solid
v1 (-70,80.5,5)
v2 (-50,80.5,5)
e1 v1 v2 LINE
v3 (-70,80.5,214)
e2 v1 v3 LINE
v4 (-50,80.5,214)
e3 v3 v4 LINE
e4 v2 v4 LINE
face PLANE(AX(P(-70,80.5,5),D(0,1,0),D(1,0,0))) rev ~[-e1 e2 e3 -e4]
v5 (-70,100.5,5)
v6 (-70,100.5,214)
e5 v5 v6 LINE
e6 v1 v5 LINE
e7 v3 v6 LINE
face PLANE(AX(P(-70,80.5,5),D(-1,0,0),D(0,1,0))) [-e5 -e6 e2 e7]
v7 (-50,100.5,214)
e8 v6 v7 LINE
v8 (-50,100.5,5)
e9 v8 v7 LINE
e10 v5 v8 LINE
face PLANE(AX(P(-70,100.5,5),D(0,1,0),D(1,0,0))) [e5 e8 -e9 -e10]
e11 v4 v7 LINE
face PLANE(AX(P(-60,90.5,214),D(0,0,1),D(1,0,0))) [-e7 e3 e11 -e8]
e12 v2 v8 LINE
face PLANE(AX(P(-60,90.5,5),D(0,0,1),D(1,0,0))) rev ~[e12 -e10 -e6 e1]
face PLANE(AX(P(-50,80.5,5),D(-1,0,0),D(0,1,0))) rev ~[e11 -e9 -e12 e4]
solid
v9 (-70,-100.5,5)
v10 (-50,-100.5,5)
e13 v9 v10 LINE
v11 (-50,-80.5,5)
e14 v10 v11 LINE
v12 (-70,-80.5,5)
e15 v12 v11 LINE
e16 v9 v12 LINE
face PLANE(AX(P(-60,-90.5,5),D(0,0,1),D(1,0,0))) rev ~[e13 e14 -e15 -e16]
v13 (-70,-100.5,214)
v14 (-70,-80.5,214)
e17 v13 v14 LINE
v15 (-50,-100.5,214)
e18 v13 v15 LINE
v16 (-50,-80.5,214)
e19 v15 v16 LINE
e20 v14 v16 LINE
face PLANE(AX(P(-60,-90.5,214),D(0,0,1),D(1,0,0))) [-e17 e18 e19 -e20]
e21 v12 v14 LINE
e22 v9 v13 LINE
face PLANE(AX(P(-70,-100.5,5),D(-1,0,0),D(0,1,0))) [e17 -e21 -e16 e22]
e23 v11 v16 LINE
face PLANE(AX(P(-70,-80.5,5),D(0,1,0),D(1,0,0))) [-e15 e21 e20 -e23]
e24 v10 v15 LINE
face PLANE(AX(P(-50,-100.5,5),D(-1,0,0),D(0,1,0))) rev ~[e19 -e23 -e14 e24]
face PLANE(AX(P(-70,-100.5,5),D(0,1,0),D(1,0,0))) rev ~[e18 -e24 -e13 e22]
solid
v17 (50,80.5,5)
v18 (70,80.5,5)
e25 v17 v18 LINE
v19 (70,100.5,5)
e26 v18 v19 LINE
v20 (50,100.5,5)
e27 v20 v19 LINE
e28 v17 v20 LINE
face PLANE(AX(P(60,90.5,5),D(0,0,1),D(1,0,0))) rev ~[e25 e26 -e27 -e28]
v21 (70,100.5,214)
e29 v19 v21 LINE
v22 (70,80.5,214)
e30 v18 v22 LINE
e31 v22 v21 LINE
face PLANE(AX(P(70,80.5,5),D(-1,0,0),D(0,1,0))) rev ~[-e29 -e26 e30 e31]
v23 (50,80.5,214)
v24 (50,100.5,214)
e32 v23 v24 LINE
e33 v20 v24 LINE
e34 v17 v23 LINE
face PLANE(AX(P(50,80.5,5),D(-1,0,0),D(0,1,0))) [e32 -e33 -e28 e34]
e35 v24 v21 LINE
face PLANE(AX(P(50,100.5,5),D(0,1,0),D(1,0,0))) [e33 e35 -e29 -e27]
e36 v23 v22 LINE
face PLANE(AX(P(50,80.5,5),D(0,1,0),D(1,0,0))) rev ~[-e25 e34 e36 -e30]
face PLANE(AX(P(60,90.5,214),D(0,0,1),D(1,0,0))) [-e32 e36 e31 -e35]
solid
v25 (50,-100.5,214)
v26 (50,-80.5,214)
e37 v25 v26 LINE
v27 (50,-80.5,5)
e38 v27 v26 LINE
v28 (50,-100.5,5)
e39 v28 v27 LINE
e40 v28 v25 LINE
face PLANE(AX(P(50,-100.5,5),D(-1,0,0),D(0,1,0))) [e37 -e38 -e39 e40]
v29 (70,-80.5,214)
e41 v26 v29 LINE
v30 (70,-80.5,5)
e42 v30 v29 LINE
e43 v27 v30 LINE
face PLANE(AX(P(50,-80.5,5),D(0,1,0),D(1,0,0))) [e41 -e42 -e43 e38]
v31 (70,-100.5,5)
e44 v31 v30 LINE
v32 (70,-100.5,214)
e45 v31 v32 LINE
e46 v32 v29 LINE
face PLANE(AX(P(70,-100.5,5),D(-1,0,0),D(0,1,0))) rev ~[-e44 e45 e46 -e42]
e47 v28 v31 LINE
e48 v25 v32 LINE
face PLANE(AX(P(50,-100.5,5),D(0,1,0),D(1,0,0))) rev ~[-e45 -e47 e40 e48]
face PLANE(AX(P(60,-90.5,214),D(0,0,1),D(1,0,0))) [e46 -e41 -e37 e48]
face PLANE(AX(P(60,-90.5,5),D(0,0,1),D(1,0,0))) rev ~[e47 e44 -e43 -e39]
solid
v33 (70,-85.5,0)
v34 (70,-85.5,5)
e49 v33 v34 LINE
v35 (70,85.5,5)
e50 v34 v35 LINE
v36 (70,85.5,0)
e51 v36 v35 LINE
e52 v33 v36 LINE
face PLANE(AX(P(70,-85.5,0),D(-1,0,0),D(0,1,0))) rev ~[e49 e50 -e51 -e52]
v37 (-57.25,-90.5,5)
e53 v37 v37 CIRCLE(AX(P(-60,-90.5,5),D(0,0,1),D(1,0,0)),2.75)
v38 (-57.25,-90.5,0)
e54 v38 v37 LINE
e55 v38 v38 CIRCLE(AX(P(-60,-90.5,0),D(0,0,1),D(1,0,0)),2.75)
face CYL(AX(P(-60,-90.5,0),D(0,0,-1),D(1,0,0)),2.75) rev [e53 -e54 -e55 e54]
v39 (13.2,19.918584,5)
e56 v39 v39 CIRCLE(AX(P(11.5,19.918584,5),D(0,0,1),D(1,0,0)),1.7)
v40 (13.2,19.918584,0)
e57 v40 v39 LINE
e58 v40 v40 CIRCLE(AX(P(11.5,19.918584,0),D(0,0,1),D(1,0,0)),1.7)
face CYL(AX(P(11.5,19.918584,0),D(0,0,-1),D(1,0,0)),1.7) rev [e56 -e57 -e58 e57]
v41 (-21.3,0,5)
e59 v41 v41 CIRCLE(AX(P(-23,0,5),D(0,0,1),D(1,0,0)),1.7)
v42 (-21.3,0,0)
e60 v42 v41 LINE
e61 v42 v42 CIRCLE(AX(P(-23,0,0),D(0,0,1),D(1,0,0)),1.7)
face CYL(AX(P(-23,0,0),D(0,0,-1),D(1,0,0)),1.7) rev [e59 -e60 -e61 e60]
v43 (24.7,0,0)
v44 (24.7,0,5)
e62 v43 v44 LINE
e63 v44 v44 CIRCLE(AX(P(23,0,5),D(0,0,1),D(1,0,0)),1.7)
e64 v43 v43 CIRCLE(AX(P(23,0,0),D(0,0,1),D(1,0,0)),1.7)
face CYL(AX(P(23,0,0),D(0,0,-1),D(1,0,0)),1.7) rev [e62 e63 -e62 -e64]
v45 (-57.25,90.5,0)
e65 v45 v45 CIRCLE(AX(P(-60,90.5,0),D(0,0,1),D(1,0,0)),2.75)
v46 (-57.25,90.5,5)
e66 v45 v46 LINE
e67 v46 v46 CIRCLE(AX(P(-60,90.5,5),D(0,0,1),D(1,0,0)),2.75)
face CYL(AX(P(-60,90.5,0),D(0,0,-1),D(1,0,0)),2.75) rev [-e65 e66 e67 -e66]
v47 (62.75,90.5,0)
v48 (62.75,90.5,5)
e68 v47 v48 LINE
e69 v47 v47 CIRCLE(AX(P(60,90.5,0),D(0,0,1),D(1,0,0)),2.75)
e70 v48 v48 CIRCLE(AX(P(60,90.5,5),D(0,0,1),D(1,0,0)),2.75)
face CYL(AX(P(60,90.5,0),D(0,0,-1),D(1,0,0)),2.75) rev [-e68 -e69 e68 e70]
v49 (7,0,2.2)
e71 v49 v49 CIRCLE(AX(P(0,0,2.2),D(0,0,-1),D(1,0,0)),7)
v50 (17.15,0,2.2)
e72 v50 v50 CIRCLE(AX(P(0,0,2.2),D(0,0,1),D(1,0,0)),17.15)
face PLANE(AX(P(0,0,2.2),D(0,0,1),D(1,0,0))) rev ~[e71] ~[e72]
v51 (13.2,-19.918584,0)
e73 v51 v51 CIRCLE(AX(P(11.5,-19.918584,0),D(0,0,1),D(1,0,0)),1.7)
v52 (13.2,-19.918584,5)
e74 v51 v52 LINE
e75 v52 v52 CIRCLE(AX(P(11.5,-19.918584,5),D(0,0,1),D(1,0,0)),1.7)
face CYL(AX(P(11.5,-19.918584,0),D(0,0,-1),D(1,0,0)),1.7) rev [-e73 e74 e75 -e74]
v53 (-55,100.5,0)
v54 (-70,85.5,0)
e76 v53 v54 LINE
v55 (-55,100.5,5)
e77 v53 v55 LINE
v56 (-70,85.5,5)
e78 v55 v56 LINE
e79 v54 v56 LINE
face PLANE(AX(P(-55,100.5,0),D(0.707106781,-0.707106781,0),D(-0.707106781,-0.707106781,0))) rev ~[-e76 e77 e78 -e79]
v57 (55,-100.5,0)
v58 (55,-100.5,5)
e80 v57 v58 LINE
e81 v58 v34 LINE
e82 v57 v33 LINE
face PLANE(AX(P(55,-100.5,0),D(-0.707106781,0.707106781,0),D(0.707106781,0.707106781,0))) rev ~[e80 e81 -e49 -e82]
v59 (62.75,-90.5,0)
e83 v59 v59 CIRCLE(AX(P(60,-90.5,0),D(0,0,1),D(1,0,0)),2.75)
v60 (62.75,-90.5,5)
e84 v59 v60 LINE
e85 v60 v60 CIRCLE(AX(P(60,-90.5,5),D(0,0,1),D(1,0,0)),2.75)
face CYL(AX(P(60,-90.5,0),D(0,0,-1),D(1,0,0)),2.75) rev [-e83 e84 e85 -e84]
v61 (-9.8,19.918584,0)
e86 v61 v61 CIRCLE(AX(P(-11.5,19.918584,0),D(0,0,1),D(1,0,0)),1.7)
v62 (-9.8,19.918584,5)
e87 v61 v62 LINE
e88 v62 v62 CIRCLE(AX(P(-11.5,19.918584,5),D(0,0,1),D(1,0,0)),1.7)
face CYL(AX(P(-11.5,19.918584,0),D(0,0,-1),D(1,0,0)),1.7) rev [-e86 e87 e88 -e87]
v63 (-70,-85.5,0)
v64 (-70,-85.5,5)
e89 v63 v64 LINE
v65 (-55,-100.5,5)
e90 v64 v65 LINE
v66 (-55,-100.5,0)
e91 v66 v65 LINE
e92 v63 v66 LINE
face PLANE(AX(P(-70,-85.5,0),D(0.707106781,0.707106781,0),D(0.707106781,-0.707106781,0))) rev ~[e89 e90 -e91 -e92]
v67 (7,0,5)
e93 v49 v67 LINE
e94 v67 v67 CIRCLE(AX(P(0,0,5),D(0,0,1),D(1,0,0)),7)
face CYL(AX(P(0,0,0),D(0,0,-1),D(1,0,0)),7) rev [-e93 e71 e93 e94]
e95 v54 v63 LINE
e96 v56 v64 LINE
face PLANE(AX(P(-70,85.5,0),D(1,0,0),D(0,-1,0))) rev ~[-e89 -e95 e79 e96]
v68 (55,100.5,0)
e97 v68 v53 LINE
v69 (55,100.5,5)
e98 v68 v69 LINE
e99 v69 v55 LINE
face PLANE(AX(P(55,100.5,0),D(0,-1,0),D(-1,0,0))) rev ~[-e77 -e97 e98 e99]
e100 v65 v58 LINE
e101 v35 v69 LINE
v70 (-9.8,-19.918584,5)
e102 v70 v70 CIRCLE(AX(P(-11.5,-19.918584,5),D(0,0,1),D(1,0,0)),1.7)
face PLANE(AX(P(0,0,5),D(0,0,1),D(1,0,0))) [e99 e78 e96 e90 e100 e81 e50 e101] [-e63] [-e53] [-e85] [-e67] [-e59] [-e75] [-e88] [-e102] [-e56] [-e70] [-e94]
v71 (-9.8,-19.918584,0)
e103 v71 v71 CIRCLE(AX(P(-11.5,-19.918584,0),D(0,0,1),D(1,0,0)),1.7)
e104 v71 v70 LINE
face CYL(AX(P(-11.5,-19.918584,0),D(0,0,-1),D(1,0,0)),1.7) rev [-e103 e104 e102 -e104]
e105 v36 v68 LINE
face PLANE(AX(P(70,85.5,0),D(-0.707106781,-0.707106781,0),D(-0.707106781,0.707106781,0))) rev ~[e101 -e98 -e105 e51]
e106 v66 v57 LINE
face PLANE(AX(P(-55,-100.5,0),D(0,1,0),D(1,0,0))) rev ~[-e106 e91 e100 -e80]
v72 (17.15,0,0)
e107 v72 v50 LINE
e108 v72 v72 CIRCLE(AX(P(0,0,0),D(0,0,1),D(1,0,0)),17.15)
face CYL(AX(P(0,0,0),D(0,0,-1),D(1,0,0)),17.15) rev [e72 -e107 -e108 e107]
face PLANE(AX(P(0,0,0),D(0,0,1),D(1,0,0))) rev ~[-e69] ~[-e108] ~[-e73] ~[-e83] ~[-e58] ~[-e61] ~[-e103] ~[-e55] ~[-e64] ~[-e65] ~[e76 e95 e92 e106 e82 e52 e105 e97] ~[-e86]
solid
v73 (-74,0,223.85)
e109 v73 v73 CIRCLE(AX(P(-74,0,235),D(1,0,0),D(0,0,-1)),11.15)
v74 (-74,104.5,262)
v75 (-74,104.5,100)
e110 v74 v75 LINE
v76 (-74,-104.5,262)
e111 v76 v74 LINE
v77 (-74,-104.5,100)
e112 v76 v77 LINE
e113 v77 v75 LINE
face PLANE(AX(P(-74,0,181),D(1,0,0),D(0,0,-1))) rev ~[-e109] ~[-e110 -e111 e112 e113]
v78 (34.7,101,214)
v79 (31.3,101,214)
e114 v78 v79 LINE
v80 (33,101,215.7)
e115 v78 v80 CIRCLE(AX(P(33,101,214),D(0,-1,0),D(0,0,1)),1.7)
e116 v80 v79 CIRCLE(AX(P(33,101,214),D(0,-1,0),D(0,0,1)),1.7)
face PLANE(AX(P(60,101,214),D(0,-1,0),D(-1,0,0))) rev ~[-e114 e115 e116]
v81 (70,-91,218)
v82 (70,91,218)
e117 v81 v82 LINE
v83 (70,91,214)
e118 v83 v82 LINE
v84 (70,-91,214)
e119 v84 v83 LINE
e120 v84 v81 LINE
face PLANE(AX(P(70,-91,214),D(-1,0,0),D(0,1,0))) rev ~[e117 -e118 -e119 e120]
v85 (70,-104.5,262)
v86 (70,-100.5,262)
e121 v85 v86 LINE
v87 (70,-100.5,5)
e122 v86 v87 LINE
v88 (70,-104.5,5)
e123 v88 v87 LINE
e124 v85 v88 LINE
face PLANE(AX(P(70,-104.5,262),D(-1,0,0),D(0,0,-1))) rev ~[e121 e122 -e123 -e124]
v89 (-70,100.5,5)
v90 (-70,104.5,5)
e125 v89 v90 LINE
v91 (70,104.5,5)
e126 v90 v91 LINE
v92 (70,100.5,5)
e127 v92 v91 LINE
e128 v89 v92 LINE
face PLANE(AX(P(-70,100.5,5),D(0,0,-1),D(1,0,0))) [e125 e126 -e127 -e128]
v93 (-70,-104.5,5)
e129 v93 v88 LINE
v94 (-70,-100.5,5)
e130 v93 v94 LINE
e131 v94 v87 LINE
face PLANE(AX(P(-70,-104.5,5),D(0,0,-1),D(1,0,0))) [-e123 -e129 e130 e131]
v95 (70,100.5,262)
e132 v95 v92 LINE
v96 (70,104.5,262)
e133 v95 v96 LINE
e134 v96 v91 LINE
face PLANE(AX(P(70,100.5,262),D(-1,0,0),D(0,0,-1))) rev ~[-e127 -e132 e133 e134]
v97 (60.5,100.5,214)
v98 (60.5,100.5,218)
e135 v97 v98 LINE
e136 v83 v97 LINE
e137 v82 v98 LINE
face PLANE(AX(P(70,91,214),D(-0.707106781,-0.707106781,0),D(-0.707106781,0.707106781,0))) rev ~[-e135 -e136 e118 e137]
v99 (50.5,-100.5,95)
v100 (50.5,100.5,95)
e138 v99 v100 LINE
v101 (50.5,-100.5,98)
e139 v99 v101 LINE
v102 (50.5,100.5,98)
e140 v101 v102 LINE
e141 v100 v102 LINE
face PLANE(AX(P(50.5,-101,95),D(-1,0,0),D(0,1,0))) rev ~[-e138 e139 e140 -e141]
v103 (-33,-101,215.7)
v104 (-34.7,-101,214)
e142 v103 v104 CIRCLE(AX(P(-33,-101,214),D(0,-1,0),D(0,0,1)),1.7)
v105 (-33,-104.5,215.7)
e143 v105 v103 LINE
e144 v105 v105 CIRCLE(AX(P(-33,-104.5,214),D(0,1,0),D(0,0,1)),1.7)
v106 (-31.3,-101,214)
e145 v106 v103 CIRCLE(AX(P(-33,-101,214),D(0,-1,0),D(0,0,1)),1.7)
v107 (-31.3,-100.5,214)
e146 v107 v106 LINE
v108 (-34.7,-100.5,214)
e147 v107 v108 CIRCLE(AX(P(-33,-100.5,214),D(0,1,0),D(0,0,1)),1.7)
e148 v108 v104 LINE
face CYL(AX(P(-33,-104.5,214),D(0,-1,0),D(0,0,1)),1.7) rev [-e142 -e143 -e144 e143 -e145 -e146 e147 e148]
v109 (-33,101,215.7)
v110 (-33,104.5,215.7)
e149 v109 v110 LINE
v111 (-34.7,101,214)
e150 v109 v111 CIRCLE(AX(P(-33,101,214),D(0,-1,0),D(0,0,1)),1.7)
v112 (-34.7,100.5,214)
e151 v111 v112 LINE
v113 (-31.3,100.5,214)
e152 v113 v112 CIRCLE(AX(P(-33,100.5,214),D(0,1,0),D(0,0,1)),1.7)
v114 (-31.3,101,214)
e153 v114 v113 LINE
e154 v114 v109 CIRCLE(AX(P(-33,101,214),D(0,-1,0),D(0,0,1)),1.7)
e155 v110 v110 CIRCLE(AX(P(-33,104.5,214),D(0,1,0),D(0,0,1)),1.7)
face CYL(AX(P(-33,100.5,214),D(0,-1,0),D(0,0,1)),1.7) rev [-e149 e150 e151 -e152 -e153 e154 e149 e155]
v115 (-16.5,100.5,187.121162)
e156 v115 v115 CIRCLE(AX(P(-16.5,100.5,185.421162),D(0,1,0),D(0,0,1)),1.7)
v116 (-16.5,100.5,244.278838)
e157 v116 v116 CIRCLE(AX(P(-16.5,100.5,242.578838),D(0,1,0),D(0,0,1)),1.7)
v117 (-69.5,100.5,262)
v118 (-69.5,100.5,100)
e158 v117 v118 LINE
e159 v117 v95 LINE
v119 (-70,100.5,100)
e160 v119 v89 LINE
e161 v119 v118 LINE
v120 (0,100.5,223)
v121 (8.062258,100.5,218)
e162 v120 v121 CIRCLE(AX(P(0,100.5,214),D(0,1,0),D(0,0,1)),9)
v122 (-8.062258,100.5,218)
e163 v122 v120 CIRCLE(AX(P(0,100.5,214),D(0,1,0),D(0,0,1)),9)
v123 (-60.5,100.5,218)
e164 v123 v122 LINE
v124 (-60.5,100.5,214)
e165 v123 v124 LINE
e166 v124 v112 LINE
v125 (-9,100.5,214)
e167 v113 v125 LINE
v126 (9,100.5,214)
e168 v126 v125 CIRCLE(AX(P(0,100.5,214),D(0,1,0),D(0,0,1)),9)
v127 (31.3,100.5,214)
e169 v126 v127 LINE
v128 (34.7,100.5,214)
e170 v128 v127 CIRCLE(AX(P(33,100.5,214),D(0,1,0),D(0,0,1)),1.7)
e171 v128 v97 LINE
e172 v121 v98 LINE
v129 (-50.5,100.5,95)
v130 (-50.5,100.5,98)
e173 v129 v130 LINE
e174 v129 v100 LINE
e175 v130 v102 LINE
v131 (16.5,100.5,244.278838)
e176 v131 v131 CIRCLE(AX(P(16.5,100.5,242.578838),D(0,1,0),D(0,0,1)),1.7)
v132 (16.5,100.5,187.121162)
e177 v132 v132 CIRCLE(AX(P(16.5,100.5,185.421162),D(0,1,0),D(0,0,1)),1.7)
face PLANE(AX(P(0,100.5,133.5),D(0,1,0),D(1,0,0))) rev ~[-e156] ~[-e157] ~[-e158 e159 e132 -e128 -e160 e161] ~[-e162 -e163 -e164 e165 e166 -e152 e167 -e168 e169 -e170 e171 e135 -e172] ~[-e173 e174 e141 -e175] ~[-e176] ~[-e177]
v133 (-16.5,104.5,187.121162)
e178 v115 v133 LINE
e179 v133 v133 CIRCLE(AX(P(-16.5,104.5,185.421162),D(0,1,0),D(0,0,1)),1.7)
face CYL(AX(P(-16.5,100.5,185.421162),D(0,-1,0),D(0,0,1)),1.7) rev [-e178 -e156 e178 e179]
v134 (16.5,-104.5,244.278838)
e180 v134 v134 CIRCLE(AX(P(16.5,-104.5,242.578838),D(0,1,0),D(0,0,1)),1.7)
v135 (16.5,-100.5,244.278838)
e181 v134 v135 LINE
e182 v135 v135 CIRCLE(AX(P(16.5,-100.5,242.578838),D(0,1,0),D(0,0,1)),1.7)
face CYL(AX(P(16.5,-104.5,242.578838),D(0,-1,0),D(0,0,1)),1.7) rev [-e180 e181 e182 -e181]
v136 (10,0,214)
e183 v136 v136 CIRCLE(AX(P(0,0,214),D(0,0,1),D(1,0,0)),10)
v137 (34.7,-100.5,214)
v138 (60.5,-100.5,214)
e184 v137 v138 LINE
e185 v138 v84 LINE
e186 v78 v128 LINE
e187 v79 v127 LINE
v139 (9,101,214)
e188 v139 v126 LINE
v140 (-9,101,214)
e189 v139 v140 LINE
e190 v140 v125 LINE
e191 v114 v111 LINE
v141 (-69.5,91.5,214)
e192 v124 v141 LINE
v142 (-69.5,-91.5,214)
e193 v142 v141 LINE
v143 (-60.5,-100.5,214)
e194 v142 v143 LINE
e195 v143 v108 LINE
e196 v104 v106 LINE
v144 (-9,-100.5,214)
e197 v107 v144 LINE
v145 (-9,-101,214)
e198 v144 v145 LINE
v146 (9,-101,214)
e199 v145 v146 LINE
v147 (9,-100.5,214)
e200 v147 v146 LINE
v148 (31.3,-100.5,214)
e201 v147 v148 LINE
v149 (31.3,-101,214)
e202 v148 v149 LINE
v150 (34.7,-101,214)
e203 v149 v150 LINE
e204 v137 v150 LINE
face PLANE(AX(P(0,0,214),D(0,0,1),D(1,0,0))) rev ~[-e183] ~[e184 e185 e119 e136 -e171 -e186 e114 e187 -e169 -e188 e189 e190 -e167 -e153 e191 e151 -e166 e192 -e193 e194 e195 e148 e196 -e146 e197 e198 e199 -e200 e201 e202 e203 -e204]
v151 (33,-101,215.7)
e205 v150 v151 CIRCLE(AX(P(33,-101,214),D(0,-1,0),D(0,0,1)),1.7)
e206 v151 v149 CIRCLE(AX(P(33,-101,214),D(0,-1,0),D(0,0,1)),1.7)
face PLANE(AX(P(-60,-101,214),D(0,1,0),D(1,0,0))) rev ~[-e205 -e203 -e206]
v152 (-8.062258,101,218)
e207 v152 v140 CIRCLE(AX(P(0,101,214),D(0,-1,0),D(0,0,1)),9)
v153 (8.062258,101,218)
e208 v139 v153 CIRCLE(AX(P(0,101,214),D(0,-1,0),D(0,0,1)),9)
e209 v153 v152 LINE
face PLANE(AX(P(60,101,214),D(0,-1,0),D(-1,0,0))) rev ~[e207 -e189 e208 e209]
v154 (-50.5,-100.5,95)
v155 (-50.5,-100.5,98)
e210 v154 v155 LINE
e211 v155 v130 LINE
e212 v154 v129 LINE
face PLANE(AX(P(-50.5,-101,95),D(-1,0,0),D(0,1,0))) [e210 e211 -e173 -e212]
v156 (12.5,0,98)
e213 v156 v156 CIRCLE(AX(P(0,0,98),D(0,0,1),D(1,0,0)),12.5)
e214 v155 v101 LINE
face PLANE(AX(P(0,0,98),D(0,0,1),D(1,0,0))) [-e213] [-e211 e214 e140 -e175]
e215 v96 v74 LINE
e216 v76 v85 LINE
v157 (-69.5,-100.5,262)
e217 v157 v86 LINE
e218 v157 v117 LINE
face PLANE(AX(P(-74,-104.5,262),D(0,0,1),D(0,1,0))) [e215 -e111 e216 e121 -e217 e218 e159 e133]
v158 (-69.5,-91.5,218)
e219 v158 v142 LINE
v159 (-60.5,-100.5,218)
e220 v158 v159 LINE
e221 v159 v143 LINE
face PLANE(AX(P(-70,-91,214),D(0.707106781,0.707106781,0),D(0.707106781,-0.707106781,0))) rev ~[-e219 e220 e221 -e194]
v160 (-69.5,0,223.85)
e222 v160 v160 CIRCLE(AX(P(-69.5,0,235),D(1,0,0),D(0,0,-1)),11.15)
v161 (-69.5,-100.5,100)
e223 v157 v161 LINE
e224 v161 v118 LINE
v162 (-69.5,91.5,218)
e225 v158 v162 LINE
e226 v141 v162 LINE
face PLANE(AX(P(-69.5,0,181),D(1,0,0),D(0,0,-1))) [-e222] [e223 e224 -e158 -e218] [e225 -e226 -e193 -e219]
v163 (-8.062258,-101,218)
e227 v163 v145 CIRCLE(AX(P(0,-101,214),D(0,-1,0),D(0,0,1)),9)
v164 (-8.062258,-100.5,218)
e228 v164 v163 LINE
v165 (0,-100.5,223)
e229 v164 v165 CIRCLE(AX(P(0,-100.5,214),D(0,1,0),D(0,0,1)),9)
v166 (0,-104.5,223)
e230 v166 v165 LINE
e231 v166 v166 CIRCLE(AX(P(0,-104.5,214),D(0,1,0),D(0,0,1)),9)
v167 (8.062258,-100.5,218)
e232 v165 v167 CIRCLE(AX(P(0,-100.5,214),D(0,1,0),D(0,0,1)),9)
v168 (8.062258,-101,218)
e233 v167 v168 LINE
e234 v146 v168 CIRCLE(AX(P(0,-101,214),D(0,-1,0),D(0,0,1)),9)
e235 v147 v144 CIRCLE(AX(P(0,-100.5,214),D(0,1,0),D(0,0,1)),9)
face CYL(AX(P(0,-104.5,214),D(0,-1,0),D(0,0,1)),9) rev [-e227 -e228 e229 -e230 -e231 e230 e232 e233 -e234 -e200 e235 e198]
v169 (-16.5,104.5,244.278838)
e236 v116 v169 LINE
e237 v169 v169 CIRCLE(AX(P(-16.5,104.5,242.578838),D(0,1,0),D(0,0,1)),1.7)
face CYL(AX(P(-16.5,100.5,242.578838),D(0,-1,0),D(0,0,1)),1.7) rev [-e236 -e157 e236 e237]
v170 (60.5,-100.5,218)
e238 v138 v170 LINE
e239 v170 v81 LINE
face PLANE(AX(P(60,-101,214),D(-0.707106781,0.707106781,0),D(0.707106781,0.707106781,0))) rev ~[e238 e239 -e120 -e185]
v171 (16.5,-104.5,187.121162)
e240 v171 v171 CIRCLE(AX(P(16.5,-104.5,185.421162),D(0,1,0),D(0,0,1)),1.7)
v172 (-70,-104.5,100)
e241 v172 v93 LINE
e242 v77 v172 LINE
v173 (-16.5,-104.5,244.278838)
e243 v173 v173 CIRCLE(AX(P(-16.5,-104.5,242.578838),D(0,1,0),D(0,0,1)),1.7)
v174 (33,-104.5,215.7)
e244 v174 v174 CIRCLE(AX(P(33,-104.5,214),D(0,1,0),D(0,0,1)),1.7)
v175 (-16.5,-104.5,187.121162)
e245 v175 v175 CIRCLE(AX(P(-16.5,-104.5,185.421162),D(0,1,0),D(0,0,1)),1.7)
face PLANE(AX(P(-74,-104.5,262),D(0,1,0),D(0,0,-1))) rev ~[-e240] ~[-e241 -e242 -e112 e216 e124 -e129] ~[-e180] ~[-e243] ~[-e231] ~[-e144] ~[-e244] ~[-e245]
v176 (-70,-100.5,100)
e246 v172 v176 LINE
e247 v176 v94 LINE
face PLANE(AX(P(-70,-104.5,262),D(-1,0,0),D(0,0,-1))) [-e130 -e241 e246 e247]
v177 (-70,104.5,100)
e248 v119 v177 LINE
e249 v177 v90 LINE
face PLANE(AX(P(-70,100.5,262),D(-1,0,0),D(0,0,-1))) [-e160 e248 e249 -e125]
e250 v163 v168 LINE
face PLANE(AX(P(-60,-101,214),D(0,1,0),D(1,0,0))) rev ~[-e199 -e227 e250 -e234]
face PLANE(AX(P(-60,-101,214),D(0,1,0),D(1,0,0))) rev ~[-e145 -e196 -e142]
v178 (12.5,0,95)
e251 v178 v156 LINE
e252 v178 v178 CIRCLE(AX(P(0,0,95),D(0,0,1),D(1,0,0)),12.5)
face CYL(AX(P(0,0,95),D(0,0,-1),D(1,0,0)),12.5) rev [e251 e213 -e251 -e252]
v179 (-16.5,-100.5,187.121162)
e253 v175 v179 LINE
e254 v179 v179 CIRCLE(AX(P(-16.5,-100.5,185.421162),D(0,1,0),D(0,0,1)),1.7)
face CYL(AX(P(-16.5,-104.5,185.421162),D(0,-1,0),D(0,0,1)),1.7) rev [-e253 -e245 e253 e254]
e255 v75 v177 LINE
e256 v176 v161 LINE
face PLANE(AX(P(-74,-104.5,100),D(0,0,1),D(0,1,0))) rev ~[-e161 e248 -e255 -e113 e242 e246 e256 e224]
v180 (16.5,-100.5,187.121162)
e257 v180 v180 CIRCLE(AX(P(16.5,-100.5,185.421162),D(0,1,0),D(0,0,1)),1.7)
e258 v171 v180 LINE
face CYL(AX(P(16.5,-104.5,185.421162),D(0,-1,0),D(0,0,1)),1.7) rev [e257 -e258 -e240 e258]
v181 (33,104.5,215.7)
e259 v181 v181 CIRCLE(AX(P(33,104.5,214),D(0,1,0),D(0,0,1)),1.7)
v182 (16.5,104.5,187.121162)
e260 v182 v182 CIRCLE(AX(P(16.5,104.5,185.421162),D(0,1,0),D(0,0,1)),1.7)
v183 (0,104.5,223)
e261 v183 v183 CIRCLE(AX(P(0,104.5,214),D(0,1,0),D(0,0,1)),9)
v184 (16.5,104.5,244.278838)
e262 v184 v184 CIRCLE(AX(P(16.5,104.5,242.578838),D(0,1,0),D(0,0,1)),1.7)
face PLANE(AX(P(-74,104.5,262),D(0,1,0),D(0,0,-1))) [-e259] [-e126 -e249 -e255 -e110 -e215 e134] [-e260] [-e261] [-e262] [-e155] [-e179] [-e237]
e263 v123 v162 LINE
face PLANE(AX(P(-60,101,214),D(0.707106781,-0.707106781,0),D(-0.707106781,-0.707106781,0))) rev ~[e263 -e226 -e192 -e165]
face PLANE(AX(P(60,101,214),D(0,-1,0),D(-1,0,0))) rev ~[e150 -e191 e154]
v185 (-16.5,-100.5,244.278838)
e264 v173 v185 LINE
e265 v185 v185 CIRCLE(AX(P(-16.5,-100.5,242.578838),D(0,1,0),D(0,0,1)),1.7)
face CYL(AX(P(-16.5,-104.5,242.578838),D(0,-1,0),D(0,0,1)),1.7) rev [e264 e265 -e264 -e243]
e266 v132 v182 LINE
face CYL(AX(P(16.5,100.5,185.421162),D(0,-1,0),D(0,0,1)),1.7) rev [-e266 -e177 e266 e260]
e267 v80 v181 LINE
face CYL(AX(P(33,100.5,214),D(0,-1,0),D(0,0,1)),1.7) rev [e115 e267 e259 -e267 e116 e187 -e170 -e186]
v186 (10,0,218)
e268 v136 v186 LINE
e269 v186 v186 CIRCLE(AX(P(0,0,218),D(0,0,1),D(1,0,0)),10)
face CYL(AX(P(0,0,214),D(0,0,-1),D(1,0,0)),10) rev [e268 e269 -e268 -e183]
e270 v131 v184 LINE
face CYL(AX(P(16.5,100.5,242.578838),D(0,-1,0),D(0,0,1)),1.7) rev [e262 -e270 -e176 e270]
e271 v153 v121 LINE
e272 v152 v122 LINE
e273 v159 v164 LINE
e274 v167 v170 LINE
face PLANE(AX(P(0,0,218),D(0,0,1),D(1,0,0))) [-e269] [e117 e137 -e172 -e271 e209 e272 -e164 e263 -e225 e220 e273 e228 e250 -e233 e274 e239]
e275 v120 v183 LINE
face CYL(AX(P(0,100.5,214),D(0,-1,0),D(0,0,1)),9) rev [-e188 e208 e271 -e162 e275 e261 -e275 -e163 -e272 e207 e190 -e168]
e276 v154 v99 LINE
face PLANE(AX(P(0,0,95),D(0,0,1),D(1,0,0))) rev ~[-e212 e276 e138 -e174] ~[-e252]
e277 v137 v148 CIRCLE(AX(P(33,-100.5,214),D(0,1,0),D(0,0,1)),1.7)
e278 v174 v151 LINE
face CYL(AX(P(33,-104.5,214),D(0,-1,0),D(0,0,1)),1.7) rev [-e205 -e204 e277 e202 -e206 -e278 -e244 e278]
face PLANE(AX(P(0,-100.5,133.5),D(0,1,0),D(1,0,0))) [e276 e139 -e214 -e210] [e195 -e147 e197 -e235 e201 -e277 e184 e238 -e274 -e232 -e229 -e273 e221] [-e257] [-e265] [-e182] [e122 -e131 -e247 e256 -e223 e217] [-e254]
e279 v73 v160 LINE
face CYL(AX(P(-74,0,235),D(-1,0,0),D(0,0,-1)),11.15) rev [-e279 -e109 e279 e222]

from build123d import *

# Parameters (mm, degrees)
SK_BOTTOM_PLATE_R        = 1.7
SK_BOTTOM_PLATE_R_2      = 7
SK_BOTTOM_PLATE_R_3      = 2.75
BOTTOM_PLATE_DEPTH       = 5
SK_WAIST_PILOT_RECESS_R  = 17.15
WAIST_PILOT_RECESS_DEPTH = 2.2
SK_SIDE_LEFT_W           = 140
SK_SIDE_LEFT_H           = 257
SK_SIDE_LEFT_R           = 1.7
SK_SIDE_LEFT_R_2         = 9
SIDE_LEFT_DEPTH          = 4
SK_SIDE_RIGHT_W          = 140
SK_SIDE_RIGHT_H          = 257
SK_SIDE_RIGHT_R          = 1.7
SK_SIDE_RIGHT_R_2        = 9
SIDE_RIGHT_DEPTH         = 4
SK_DECK_R                = 10
DECK_DEPTH               = 4
SK_TRAY_W                = 101
SK_TRAY_H                = 202
SK_TRAY_R                = 12.5
TRAY_DEPTH               = 3
SK_BACK_PLATE_W          = 162
SK_BACK_PLATE_H          = 209
SK_BACK_PLATE_R          = 11.15
BACK_PLATE_DEPTH         = 4.5
SK_POST_0_W              = 20
SK_POST_0_H              = 20
POST_0_DEPTH             = 209
SK_POST_1_W              = 20
SK_POST_1_H              = 20
POST_1_DEPTH             = 209
SK_POST_2_W              = 20
SK_POST_2_H              = 20
POST_2_DEPTH             = 209
SK_POST_3_W              = 20
SK_POST_3_H              = 20
POST_3_DEPTH             = 209


with BuildPart() as part:
    # SK_Bottom_Plate → Bottom_Plate (new body)
    with BuildSketch(Plane.XY):
        Polygon((-55, -100.5), (55, -100.5), (70, -85.5), (70, 85.5), (55, 100.5), (-55, 100.5), (-70, 85.5), (-70, -85.5), align=None)
        with Locations((23, 0)):
            Circle(SK_BOTTOM_PLATE_R, mode=Mode.SUBTRACT)
        with Locations((11.5, 19.918584287)):
            Circle(SK_BOTTOM_PLATE_R, mode=Mode.SUBTRACT)
        with Locations((-11.5, 19.918584287)):
            Circle(SK_BOTTOM_PLATE_R, mode=Mode.SUBTRACT)
        with Locations((-23, 0)):
            Circle(SK_BOTTOM_PLATE_R, mode=Mode.SUBTRACT)
        with Locations((-11.5, -19.918584287)):
            Circle(SK_BOTTOM_PLATE_R, mode=Mode.SUBTRACT)
        with Locations((11.5, -19.918584287)):
            Circle(SK_BOTTOM_PLATE_R, mode=Mode.SUBTRACT)
        Circle(SK_BOTTOM_PLATE_R_2, mode=Mode.SUBTRACT)
        with Locations((60, 90.5)):
            Circle(SK_BOTTOM_PLATE_R_3, mode=Mode.SUBTRACT)
        with Locations((60, -90.5)):
            Circle(SK_BOTTOM_PLATE_R_3, mode=Mode.SUBTRACT)
        with Locations((-60, 90.5)):
            Circle(SK_BOTTOM_PLATE_R_3, mode=Mode.SUBTRACT)
        with Locations((-60, -90.5)):
            Circle(SK_BOTTOM_PLATE_R_3, mode=Mode.SUBTRACT)
    extrude(amount=BOTTOM_PLATE_DEPTH)

    # SK_Waist_Pilot_Recess → Waist_Pilot_Recess (cut)
    with BuildSketch(Plane.XY):
        Circle(SK_WAIST_PILOT_RECESS_R)
    extrude(amount=WAIST_PILOT_RECESS_DEPTH, mode=Mode.SUBTRACT)


with BuildPart() as body_2:
    # SK_Side_Left → Side_Left (new body)
    with BuildSketch(Plane(origin=(0, 100.5, 0), x_dir=(1, 0, 0), z_dir=(0, 1, 0))):
        with Locations((0, -133.5)):
            Rectangle(SK_SIDE_LEFT_W, SK_SIDE_LEFT_H)
        with Locations(Location((33, -214, 0), (0, 0, 270))):
            Circle(SK_SIDE_LEFT_R, mode=Mode.SUBTRACT)
        with Locations(Location((16.5, -185.421161675, 0), (0, 0, 270))):
            Circle(SK_SIDE_LEFT_R, mode=Mode.SUBTRACT)
        with Locations(Location((-16.5, -185.421161675, 0), (0, 0, 270))):
            Circle(SK_SIDE_LEFT_R, mode=Mode.SUBTRACT)
        with Locations(Location((-33, -214, 0), (0, 0, 270))):
            Circle(SK_SIDE_LEFT_R, mode=Mode.SUBTRACT)
        with Locations(Location((-16.5, -242.578838325, 0), (0, 0, 270))):
            Circle(SK_SIDE_LEFT_R, mode=Mode.SUBTRACT)
        with Locations(Location((16.5, -242.578838325, 0), (0, 0, 270))):
            Circle(SK_SIDE_LEFT_R, mode=Mode.SUBTRACT)
        with Locations(Location((0, -214, 0), (0, 0, 270))):
            Circle(SK_SIDE_LEFT_R_2, mode=Mode.SUBTRACT)
    extrude(amount=SIDE_LEFT_DEPTH)



with BuildPart() as body_3:
    # SK_Side_Right → Side_Right (new body)
    with BuildSketch(Plane(origin=(0, -104.5, 0), x_dir=(1, 0, 0), z_dir=(0, 1, 0))):
        with Locations((0, -133.5)):
            Rectangle(SK_SIDE_RIGHT_W, SK_SIDE_RIGHT_H)
        with Locations(Location((33, -214, 0), (0, 0, 270))):
            Circle(SK_SIDE_RIGHT_R, mode=Mode.SUBTRACT)
        with Locations(Location((16.5, -185.421161675, 0), (0, 0, 270))):
            Circle(SK_SIDE_RIGHT_R, mode=Mode.SUBTRACT)
        with Locations(Location((-16.5, -185.421161675, 0), (0, 0, 270))):
            Circle(SK_SIDE_RIGHT_R, mode=Mode.SUBTRACT)
        with Locations(Location((-33, -214, 0), (0, 0, 270))):
            Circle(SK_SIDE_RIGHT_R, mode=Mode.SUBTRACT)
        with Locations(Location((-16.5, -242.578838325, 0), (0, 0, 270))):
            Circle(SK_SIDE_RIGHT_R, mode=Mode.SUBTRACT)
        with Locations(Location((16.5, -242.578838325, 0), (0, 0, 270))):
            Circle(SK_SIDE_RIGHT_R, mode=Mode.SUBTRACT)
        with Locations(Location((0, -214, 0), (0, 0, 270))):
            Circle(SK_SIDE_RIGHT_R_2, mode=Mode.SUBTRACT)
    extrude(amount=SIDE_RIGHT_DEPTH)


with BuildPart() as body_2_1:
    add(body_2.part)

    add(body_3.part)  # Deck merges body 3
    # SK_Deck → Deck (add)
    with BuildSketch(Plane.XY.offset(214)):
        Polygon((-60, -101), (60, -101), (70, -91), (70, 91), (60, 101), (-60, 101), (-70, 91), (-70, -91), align=None)
        Circle(SK_DECK_R, mode=Mode.SUBTRACT)
    extrude(amount=DECK_DEPTH)

    # SK_Tray → Tray (add)
    with BuildSketch(Plane.XY.offset(95)):
        Rectangle(SK_TRAY_W, SK_TRAY_H)
        Circle(SK_TRAY_R, mode=Mode.SUBTRACT)
    extrude(amount=TRAY_DEPTH)

    # SK_Back_Plate → Back_Plate (add)
    with BuildSketch(Plane(origin=(-74, 0, 0), x_dir=(0, 0, -1), z_dir=(1, 0, 0))):
        with Locations((-181, 0)):
            Rectangle(SK_BACK_PLATE_W, SK_BACK_PLATE_H)
        with Locations((-235, 0)):
            Circle(SK_BACK_PLATE_R, mode=Mode.SUBTRACT)
    extrude(amount=BACK_PLATE_DEPTH)


with BuildPart() as body_3_2:
    # SK_Post_0 → Post_0 (new body)
    with BuildSketch(Plane.XY.offset(5)):
        with Locations((60, 90.5)):
            Rectangle(SK_POST_0_W, SK_POST_0_H)
    extrude(amount=POST_0_DEPTH)


with BuildPart() as body_4:
    # SK_Post_1 → Post_1 (new body)
    with BuildSketch(Plane.XY.offset(5)):
        with Locations((60, -90.5)):
            Rectangle(SK_POST_1_W, SK_POST_1_H)
    extrude(amount=POST_1_DEPTH)


with BuildPart() as body_5:
    # SK_Post_2 → Post_2 (new body)
    with BuildSketch(Plane.XY.offset(5)):
        with Locations((-60, 90.5)):
            Rectangle(SK_POST_2_W, SK_POST_2_H)
    extrude(amount=POST_2_DEPTH)


with BuildPart() as body_6:
    # SK_Post_3 → Post_3 (new body)
    with BuildSketch(Plane.XY.offset(5)):
        with Locations((-60, -90.5)):
            Rectangle(SK_POST_3_W, SK_POST_3_H)
    extrude(amount=POST_3_DEPTH)


solid = Compound([part.part, body_2_1.part, body_3_2.part, body_4.part, body_5.part, body_6.part])
